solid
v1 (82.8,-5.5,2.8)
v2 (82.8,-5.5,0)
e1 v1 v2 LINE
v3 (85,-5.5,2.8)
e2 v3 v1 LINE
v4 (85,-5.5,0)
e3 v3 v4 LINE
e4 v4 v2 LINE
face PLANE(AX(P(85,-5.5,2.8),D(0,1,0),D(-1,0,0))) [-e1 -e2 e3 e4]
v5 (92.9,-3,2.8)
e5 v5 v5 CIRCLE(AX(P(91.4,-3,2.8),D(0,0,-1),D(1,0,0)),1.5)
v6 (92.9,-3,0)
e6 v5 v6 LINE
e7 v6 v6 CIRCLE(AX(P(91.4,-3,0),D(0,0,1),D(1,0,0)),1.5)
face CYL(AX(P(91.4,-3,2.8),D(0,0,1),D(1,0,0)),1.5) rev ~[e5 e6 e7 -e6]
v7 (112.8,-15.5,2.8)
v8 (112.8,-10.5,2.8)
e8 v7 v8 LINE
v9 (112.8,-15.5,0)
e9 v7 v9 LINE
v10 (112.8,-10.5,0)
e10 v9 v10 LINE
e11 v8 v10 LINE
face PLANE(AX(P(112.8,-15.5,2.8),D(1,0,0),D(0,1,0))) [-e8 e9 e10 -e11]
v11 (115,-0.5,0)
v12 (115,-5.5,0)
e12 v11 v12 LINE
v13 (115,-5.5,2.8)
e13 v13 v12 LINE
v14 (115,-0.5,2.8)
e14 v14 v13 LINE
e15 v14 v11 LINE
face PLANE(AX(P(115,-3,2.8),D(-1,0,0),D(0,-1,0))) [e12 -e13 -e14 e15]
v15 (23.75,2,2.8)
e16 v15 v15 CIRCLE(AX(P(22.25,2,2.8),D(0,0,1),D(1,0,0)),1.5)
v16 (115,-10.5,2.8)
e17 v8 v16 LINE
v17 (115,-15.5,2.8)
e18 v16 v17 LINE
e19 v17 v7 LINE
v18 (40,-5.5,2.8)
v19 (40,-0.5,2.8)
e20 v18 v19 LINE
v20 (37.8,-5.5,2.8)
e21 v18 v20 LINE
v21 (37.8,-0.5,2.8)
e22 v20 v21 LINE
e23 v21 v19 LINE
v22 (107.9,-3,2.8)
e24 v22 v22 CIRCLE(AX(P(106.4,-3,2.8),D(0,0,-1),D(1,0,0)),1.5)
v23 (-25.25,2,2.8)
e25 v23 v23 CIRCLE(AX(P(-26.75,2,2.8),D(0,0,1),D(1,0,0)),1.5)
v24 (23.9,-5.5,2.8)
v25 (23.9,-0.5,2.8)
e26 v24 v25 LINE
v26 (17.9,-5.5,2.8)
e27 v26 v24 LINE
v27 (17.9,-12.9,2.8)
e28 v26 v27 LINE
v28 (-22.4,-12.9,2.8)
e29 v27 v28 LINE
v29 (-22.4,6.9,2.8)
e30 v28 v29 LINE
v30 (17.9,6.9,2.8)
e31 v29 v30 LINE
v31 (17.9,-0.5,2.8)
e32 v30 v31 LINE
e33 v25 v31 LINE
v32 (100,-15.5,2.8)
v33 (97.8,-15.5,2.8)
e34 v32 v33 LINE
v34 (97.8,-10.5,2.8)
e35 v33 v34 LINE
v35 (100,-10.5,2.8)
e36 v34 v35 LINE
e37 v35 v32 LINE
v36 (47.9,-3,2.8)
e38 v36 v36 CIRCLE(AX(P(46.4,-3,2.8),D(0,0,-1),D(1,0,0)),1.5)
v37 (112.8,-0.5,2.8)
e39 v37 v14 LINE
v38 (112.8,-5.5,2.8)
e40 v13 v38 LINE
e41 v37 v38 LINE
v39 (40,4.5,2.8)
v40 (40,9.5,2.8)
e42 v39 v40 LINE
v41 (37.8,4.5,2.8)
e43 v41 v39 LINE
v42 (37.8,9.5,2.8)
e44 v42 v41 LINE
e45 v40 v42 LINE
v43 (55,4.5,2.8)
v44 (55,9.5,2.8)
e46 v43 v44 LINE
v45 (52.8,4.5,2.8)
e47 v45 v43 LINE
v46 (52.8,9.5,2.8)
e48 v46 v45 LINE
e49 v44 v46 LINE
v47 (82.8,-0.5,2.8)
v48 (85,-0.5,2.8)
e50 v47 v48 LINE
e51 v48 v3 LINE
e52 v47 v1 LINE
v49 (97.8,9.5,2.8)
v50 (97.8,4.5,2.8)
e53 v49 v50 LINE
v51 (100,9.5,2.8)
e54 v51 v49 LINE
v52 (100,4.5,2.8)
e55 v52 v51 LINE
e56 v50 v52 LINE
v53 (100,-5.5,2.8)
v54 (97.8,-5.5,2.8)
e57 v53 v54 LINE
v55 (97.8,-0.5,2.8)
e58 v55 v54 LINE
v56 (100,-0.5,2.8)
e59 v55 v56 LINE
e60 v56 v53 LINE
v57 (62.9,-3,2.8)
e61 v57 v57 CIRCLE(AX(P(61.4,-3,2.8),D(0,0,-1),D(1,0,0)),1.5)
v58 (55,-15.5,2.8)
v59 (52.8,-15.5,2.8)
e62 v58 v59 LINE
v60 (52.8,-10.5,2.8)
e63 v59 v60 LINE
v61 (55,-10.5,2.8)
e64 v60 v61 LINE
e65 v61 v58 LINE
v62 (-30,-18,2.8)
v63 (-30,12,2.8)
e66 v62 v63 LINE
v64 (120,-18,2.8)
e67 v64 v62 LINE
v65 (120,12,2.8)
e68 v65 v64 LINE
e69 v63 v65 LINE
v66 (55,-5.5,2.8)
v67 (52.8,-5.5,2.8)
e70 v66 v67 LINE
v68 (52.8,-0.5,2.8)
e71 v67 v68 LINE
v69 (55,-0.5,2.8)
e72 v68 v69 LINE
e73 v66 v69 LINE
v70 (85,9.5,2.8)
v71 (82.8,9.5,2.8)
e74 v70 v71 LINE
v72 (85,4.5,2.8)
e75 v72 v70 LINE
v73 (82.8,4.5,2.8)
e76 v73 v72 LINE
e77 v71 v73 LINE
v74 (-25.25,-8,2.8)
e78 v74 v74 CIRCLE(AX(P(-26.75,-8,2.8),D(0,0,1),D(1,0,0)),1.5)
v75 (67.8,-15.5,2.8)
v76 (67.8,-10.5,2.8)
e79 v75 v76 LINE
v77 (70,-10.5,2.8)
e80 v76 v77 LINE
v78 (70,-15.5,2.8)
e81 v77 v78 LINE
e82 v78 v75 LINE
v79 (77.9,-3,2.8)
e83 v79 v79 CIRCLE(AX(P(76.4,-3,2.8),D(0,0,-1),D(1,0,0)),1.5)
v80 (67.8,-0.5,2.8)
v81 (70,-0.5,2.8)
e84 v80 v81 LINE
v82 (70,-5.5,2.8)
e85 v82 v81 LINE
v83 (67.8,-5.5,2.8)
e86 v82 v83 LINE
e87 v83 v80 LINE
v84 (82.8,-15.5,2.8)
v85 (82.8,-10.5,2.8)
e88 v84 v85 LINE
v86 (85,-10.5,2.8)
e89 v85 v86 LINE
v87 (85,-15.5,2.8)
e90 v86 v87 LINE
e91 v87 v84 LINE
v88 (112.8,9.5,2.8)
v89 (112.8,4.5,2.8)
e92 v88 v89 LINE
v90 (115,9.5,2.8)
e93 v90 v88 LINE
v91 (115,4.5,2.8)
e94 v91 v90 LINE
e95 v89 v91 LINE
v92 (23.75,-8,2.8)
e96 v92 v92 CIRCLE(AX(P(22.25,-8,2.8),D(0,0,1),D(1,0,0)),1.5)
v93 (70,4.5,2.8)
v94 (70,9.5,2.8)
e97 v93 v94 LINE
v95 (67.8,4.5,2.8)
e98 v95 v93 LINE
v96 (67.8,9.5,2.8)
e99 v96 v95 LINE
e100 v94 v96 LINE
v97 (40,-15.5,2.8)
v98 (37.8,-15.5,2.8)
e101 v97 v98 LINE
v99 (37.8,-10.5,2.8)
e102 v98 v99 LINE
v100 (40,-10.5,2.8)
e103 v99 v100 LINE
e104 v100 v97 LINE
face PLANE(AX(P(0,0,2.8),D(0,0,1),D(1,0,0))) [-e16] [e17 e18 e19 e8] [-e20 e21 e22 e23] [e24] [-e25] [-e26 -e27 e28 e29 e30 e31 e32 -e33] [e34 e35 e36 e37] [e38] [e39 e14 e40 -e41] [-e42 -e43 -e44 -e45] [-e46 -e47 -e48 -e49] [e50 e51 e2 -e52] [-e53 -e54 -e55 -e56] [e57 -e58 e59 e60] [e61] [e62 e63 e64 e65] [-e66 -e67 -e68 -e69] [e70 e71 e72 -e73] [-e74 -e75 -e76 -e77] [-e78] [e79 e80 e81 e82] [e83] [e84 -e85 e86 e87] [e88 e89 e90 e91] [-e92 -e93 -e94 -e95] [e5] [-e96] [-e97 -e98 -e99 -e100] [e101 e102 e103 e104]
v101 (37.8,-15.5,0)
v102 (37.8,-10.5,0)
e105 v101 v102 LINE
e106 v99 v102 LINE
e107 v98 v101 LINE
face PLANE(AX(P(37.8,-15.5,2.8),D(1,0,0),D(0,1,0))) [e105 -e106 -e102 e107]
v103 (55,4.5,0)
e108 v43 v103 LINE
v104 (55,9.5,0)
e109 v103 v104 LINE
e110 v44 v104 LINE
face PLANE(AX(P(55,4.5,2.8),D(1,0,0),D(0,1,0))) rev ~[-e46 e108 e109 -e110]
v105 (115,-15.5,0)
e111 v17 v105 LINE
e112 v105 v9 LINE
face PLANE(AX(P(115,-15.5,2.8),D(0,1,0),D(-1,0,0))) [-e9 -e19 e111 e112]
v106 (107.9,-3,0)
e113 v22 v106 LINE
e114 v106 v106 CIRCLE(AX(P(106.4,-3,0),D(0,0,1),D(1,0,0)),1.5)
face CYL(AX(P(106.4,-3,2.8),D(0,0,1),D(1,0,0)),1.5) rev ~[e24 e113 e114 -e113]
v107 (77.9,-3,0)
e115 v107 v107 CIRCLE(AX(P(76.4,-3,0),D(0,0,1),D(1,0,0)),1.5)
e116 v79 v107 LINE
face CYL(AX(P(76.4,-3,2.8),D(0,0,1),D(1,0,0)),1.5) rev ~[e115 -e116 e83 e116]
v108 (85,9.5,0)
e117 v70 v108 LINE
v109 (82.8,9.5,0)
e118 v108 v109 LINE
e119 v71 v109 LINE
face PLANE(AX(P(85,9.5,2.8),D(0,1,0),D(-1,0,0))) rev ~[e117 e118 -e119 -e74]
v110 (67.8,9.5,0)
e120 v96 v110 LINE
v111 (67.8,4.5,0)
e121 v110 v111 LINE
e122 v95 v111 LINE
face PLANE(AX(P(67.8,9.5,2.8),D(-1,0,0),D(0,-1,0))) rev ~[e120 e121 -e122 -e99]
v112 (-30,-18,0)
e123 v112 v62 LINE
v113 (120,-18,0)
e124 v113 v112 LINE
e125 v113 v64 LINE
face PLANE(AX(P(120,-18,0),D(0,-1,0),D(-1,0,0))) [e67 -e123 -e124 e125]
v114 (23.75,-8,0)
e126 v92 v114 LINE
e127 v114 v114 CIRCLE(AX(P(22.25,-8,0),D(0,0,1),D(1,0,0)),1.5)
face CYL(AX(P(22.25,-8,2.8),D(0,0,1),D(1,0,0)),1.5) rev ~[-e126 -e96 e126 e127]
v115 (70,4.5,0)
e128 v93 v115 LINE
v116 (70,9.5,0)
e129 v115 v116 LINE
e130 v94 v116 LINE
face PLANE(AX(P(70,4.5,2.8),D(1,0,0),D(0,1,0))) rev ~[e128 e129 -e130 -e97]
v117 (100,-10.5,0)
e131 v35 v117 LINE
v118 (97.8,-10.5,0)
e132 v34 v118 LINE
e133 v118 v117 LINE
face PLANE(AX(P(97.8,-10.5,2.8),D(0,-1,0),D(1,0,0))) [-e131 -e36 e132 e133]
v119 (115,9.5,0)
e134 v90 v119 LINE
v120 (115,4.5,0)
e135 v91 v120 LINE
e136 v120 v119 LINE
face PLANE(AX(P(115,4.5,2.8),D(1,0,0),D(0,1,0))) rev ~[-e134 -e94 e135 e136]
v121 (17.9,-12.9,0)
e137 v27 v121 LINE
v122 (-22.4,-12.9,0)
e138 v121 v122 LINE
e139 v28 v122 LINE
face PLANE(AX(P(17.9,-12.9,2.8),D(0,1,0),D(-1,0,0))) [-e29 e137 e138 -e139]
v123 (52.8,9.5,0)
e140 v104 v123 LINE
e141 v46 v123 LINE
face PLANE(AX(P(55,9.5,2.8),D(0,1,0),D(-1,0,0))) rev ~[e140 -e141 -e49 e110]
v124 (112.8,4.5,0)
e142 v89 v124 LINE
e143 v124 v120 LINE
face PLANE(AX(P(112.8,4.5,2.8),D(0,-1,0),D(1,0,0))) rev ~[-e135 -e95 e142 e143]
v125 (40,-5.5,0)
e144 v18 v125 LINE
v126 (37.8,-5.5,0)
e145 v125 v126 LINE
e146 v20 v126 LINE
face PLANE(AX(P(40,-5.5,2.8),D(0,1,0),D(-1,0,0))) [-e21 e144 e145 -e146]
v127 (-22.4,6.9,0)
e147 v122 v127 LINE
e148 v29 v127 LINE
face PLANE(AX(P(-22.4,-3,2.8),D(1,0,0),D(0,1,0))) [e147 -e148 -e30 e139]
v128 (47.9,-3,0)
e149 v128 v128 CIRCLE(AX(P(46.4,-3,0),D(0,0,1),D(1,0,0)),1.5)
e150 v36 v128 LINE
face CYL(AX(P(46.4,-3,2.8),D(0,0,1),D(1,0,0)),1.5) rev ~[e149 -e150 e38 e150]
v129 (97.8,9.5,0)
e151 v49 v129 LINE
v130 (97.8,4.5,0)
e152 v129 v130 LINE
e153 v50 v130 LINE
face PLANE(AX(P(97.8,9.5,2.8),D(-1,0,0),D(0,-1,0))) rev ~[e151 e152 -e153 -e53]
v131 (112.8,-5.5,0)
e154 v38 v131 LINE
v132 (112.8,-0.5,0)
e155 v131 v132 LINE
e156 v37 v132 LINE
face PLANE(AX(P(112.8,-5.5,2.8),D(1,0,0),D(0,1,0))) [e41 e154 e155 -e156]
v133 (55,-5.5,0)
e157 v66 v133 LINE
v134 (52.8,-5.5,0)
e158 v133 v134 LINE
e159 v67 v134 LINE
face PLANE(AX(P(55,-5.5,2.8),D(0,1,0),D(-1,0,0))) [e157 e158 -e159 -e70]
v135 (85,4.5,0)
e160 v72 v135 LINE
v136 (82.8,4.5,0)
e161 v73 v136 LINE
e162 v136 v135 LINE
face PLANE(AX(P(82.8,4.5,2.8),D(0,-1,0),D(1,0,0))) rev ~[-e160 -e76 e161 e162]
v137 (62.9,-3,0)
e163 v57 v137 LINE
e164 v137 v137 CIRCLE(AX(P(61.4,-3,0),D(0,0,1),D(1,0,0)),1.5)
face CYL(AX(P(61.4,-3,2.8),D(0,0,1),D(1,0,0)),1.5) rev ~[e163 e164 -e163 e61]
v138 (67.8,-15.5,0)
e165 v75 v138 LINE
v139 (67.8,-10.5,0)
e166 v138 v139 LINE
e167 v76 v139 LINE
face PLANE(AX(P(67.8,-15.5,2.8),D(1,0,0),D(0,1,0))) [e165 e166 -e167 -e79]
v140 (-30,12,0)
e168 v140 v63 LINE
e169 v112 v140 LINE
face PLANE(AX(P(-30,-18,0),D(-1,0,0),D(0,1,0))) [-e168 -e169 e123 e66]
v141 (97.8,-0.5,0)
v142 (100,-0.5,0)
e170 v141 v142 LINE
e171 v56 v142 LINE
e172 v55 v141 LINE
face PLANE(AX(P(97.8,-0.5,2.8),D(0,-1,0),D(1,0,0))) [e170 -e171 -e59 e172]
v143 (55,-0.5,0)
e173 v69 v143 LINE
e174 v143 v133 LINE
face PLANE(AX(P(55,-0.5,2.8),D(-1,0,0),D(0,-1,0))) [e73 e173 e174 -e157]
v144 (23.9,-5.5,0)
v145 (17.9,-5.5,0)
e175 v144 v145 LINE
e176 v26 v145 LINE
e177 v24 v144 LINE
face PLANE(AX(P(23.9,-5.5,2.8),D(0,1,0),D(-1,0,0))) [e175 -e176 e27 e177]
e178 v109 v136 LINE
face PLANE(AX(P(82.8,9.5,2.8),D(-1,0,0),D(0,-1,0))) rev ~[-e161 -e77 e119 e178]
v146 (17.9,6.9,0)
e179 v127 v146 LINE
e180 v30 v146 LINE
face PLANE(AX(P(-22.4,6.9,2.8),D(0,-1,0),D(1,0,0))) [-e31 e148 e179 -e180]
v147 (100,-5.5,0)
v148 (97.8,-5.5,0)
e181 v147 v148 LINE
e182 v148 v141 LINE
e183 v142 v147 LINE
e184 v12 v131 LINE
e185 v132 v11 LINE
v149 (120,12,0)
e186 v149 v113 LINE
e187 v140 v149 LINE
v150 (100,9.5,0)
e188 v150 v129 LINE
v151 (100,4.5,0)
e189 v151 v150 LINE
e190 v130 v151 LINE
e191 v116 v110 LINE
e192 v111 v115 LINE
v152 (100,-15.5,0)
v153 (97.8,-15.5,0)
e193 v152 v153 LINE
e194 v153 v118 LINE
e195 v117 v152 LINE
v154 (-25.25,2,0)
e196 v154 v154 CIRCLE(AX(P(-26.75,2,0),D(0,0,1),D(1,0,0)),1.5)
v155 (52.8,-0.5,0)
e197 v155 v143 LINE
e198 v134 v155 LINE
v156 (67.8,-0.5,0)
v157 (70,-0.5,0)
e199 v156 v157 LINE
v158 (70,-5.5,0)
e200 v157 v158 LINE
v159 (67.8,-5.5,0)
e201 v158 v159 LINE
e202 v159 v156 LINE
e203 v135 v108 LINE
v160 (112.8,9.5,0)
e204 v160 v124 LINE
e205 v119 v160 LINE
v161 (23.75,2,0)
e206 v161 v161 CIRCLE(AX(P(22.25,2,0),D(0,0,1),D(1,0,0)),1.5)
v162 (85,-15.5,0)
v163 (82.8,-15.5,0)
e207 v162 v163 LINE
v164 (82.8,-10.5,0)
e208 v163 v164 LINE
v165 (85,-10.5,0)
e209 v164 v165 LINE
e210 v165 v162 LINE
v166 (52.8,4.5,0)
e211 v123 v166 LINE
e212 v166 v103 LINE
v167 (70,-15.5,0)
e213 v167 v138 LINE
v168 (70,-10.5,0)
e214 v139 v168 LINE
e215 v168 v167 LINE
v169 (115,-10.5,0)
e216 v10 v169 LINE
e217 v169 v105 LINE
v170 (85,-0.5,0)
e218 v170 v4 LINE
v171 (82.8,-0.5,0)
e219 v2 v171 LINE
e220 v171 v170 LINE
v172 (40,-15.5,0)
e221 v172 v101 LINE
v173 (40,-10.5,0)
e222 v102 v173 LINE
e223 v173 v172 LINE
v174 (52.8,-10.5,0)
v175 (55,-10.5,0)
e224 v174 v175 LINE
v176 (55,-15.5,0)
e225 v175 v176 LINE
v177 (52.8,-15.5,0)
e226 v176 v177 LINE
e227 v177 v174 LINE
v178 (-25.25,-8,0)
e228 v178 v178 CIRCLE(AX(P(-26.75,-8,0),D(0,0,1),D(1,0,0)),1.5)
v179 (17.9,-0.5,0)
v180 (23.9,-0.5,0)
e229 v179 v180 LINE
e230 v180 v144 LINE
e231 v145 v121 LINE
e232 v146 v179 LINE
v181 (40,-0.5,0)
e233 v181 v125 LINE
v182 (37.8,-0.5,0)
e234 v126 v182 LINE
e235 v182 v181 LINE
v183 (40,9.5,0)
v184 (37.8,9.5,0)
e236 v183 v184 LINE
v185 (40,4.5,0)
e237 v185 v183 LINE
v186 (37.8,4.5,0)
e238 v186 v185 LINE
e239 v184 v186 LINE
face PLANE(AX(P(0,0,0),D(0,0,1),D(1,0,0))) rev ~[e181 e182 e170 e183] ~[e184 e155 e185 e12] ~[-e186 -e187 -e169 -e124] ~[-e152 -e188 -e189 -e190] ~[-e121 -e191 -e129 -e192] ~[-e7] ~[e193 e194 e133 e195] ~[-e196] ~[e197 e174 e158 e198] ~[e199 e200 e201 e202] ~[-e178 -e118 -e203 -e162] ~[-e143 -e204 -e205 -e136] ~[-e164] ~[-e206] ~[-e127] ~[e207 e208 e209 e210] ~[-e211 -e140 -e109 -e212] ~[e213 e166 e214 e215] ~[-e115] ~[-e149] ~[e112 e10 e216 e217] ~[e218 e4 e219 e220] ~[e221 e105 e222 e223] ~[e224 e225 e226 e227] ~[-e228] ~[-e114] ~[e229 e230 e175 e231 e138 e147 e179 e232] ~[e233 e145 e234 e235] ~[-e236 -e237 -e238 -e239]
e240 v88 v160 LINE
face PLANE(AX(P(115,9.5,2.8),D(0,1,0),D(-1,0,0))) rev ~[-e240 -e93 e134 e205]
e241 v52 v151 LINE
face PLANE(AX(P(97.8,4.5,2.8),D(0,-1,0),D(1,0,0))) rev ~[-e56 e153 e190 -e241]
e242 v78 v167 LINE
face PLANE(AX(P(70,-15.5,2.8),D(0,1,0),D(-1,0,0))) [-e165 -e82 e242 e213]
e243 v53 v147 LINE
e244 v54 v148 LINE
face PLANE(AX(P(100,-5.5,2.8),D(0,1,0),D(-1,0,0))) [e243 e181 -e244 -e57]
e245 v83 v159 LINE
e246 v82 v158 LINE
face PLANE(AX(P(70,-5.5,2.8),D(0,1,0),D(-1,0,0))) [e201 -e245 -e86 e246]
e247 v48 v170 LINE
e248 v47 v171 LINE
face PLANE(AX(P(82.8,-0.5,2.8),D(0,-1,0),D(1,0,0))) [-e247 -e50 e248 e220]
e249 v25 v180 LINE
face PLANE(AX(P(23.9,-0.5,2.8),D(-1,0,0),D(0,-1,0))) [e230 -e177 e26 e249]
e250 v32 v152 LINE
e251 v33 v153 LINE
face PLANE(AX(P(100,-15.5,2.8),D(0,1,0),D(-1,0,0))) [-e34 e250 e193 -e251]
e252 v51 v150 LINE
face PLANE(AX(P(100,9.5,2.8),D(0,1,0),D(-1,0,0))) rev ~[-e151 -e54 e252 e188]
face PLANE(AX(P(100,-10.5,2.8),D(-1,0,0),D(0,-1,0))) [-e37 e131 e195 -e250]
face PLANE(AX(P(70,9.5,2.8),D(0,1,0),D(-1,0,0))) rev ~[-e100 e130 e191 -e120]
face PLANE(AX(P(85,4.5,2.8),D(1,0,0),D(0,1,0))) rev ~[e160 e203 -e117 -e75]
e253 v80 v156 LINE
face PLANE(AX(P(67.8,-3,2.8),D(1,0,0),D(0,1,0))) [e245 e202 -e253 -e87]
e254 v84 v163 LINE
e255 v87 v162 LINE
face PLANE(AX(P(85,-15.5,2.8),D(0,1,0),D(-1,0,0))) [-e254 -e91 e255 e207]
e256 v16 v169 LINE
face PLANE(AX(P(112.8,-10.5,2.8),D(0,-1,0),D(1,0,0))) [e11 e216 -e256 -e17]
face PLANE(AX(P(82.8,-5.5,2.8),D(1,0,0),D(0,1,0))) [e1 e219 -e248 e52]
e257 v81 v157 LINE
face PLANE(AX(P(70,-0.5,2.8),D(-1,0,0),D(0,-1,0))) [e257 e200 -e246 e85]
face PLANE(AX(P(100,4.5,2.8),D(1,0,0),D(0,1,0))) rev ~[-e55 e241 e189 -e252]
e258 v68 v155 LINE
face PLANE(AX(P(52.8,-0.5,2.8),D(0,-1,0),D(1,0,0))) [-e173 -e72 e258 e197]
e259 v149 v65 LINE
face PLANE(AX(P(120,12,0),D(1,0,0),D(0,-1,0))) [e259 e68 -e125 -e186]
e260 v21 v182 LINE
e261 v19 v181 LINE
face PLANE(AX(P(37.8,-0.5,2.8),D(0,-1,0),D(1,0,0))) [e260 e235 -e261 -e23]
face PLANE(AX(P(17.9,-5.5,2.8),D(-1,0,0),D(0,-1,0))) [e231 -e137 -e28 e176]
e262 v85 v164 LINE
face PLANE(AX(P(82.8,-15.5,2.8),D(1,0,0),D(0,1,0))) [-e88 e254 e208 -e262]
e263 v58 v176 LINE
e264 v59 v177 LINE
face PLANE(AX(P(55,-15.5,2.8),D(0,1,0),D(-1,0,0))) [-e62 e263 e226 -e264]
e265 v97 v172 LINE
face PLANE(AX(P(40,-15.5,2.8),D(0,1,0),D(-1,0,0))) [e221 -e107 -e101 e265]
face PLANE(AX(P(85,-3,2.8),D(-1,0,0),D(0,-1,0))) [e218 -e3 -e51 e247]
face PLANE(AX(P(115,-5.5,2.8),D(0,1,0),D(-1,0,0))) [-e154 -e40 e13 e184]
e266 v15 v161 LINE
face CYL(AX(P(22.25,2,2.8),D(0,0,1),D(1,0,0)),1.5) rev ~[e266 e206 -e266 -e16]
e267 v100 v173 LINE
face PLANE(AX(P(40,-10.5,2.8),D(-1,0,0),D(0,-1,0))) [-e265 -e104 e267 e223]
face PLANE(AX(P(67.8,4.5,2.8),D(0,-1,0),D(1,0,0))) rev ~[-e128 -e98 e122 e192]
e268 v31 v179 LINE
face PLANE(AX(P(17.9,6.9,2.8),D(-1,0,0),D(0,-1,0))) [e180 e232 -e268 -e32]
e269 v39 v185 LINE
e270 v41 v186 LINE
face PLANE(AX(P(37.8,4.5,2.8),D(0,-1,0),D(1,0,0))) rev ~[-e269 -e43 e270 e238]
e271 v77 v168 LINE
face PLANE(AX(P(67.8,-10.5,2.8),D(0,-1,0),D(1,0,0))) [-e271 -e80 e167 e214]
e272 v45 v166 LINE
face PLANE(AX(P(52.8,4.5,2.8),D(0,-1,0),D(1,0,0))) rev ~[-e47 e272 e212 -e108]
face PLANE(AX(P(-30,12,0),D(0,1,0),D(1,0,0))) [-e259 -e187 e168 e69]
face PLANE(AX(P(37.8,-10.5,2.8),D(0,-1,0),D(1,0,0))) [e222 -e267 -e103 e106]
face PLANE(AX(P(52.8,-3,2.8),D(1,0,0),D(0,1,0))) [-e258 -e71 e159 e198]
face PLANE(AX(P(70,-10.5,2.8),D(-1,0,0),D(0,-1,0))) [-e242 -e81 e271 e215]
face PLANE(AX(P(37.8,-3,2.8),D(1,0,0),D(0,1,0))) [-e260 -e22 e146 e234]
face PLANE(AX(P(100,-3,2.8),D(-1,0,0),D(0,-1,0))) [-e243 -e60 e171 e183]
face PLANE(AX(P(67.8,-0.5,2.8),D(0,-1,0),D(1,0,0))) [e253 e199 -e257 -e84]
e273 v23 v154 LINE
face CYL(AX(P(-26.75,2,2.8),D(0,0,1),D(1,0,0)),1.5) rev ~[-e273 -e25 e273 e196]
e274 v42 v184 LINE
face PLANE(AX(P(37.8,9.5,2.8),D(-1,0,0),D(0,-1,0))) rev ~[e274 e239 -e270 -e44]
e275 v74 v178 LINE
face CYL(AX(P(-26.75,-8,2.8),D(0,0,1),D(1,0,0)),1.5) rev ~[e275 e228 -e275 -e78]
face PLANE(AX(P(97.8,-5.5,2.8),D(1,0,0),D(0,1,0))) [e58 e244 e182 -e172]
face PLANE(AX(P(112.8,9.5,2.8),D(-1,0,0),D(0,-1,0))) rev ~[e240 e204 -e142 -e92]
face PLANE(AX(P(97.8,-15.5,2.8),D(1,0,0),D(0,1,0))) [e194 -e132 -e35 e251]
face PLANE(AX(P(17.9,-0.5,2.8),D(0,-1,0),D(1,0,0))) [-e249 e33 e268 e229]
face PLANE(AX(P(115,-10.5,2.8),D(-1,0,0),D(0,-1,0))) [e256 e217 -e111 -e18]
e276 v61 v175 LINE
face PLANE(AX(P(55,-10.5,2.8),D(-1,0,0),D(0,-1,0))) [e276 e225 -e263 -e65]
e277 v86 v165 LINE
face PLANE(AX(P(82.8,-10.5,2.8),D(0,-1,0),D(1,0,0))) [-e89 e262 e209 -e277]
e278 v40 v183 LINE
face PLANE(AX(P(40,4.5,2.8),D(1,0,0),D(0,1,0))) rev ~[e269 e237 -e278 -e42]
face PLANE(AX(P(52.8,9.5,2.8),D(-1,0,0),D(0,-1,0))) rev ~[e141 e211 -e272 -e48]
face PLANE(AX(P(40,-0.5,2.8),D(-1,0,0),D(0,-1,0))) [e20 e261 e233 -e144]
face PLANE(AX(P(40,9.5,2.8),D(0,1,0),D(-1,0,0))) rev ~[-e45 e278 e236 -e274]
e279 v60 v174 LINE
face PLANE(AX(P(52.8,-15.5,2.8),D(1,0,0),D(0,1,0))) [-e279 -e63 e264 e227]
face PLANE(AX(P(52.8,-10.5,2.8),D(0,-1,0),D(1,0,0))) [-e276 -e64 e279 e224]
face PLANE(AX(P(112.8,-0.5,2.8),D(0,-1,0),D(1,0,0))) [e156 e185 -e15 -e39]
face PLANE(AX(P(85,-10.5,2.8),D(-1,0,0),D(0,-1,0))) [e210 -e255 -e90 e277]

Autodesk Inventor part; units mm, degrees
ref_plane "YZ Plane" through (0, 0, 0) normal (1, 0, 0) x (0, 1, 0)
ref_plane "XZ Plane" through (0, 0, 0) normal (0, 1, 0) x (-1, 0, 0)
ref_plane "XY Plane" through (0, 0, 0) normal (0, 0, 1) x (1, 0, 0)
sketch "Sketch1" plane through (0, 0, 0) normal (0, 0, 1) x (1, 0, 0)
  line L0 (-30, -18) -> (-30, 12)
  line L1 (-30, 12) -> (120, 12)
  line L2 (120, 12) -> (120, -18)
  line L3 (120, -18) -> (-30, -18)
  point P0 (-30, -3)
  dimension "d13" = 30
  dimension "d55" = 150
extrude "Extrusion1" add sketch "Sketch1" along normal blind 2.8
sketch "Sketch4" plane through (0, 0, 2.8) normal (0, 0, 1) x (1, 0, 0)
  line L0 (-22.4, 6.9) -> (17.9, 6.9)
  line L1 (17.9, -0.5) -> (23.9, -0.5)
  line L2 (17.9, -12.9) -> (-22.4, -12.9)
  line L3 (17.9, -5.5) -> (17.9, -12.9)
  line L4 (17.9, -5.5) -> (17.9, -12.9)
  line L5 (23.9, -5.5) -> (17.9, -5.5)
  line L6 (-22.4, -12.9) -> (-22.4, 6.9)
  line L7 (23.9, -0.5) -> (23.9, -5.5)
  line L8 (17.9, 6.9) -> (17.9, -0.5)
  circle A0 centre (-26.75, -8) radius 2.5
  circle A1 centre (-26.75, 2) radius 2.5
  circle A2 centre (22.25, -8) radius 2.5
  circle A3 centre (22.25, 2) radius 2.5
  circle A4 centre (22.25, -8) radius 1.5
  circle A5 centre (22.25, 2) radius 1.5
  circle A6 centre (-26.75, -8) radius 1.5
  circle A7 centre (-26.75, 2) radius 1.5
  line L9 (120, 12) -> (120, -18) projected
  line L10 (-30, -18) -> (-30, 12) projected
  line L11 (120, -18) -> (-30, -18) projected
  line L12 (120, -3) -> (-30, -3)
  line L13 (112.8, -0.5) -> (115, -0.5)
  line L14 (115, -0.5) -> (115, -5.5)
  line L15 (115, -5.5) -> (112.8, -5.5)
  line L16 (112.8, -5.5) -> (112.8, -0.5)
  line L17 (97.8, -0.5) -> (100, -0.5)
  line L18 (100, -0.5) -> (100, -5.5)
  line L19 (100, -5.5) -> (97.8, -5.5)
  line L20 (97.8, -5.5) -> (97.8, -0.5)
  line L21 (82.8, -0.5) -> (85, -0.5)
  line L22 (85, -0.5) -> (85, -5.5)
  line L23 (85, -5.5) -> (82.8, -5.5)
  line L24 (82.8, -5.5) -> (82.8, -0.5)
  line L25 (67.8, -0.5) -> (70, -0.5)
  line L26 (70, -0.5) -> (70, -5.5)
  line L27 (70, -5.5) -> (67.8, -5.5)
  line L28 (67.8, -5.5) -> (67.8, -0.5)
  line L29 (52.8, -0.5) -> (55, -0.5)
  line L30 (55, -0.5) -> (55, -5.5)
  line L31 (55, -5.5) -> (52.8, -5.5)
  line L32 (52.8, -5.5) -> (52.8, -0.5)
  line L33 (37.8, -0.5) -> (40, -0.5)
  line L34 (40, -0.5) -> (40, -5.5)
  line L35 (40, -5.5) -> (37.8, -5.5)
  line L36 (37.8, -5.5) -> (37.8, -0.5)
  line L37 (112.8, -10.5) -> (115, -10.5)
  line L38 (115, -10.5) -> (115, -15.5)
  line L39 (115, -15.5) -> (112.8, -15.5)
  line L40 (112.8, -15.5) -> (112.8, -10.5)
  line L41 (97.8, -10.5) -> (100, -10.5)
  line L42 (100, -10.5) -> (100, -15.5)
  line L43 (100, -15.5) -> (97.8, -15.5)
  line L44 (97.8, -15.5) -> (97.8, -10.5)
  line L45 (82.8, -10.5) -> (85, -10.5)
  line L46 (85, -10.5) -> (85, -15.5)
  line L47 (85, -15.5) -> (82.8, -15.5)
  line L48 (82.8, -15.5) -> (82.8, -10.5)
  line L49 (67.8, -10.5) -> (70, -10.5)
  line L50 (70, -10.5) -> (70, -15.5)
  line L51 (70, -15.5) -> (67.8, -15.5)
  line L52 (67.8, -15.5) -> (67.8, -10.5)
  line L53 (52.8, -10.5) -> (55, -10.5)
  line L54 (55, -10.5) -> (55, -15.5)
  line L55 (55, -15.5) -> (52.8, -15.5)
  line L56 (52.8, -15.5) -> (52.8, -10.5)
  line L57 (37.8, -10.5) -> (40, -10.5)
  line L58 (40, -10.5) -> (40, -15.5)
  line L59 (40, -15.5) -> (37.8, -15.5)
  line L60 (37.8, -15.5) -> (37.8, -10.5)
  line L61 (112.8, 9.5) -> (112.8, 4.5)
  line L62 (115, 4.5) -> (115, 9.5)
  line L63 (115, 9.5) -> (112.8, 9.5)
  line L64 (112.8, 4.5) -> (115, 4.5)
  line L65 (97.8, 9.5) -> (97.8, 4.5)
  line L66 (100, 4.5) -> (100, 9.5)
  line L67 (100, 9.5) -> (97.8, 9.5)
  line L68 (97.8, 4.5) -> (100, 4.5)
  line L69 (82.8, 9.5) -> (82.8, 4.5)
  line L70 (85, 4.5) -> (85, 9.5)
  line L71 (85, 9.5) -> (82.8, 9.5)
  line L72 (82.8, 4.5) -> (85, 4.5)
  line L73 (67.8, 9.5) -> (67.8, 4.5)
  line L74 (70, 4.5) -> (70, 9.5)
  line L75 (70, 9.5) -> (67.8, 9.5)
  line L76 (67.8, 4.5) -> (70, 4.5)
  line L77 (52.8, 9.5) -> (52.8, 4.5)
  line L78 (55, 4.5) -> (55, 9.5)
  line L79 (55, 9.5) -> (52.8, 9.5)
  line L80 (52.8, 4.5) -> (55, 4.5)
  line L81 (37.8, 9.5) -> (37.8, 4.5)
  line L82 (40, 4.5) -> (40, 9.5)
  line L83 (40, 9.5) -> (37.8, 9.5)
  line L84 (37.8, 4.5) -> (40, 4.5)
  circle A8 centre (106.4, -3) radius 1.5
  circle A9 centre (91.4, -3) radius 1.5
  circle A10 centre (76.4, -3) radius 1.5
  circle A11 centre (61.4, -3) radius 1.5
  circle A12 centre (46.4, -3) radius 1.5
  dimension "d51" = 3
  dimension "d52" = 3
  dimension "d53" = 3
  dimension "d54" = 3
  dimension "d56" = 2.2
  dimension "d57" = 5
  dimension "d58" = 2.5
  dimension "d59" = 5
  dimension "d62" = 15
  dimension "d65" = 10
  dimension "d68" = 3
  dimension "d69" = 6.4
  dimension "d72" = 15
extrude "Extrusion3" cut sketch "Sketch4" against normal blind 10 contours L0 L8 L1 L7 L12 L6 | L12 L7 L5 L3 L2 L6 | L36 L33 L34 L12 | L12 L34 L35 L36 | A12 L12 | L12 A12 | L14 L15 L16 L12 | L12 L16 L13 L14 | L32 L29 L30 L12 | L12 L30 L31 L32 | A8 L12 | L12 A8 | A11 L12 | L12 A11 | L18 L19 L20 L12 | L12 L20 L17 L18 | L28 L25 L26 L12 | L12 L26 L27 L28 | A9 L12 | L12 A9 | A10 L12 | L12 A10 | L22 L23 L24 L12 | L12 L24 L21 L22 | A4 | A5 | A6 | A7 | L37 L38 L39 L40 | L41 L42 L43 L44 | L45 L46 L47 L48 | L49 L50 L51 L52 | L53 L54 L55 L56 | L57 L58 L59 L60 | L63 L62 L64 L61 | L67 L66 L68 L65 | L71 L70 L72 L69 | L75 L74 L76 L73 | L79 L78 L80 L77 | L83 L82 L84 L81
properties part number "Acrylic_UpperArm"
